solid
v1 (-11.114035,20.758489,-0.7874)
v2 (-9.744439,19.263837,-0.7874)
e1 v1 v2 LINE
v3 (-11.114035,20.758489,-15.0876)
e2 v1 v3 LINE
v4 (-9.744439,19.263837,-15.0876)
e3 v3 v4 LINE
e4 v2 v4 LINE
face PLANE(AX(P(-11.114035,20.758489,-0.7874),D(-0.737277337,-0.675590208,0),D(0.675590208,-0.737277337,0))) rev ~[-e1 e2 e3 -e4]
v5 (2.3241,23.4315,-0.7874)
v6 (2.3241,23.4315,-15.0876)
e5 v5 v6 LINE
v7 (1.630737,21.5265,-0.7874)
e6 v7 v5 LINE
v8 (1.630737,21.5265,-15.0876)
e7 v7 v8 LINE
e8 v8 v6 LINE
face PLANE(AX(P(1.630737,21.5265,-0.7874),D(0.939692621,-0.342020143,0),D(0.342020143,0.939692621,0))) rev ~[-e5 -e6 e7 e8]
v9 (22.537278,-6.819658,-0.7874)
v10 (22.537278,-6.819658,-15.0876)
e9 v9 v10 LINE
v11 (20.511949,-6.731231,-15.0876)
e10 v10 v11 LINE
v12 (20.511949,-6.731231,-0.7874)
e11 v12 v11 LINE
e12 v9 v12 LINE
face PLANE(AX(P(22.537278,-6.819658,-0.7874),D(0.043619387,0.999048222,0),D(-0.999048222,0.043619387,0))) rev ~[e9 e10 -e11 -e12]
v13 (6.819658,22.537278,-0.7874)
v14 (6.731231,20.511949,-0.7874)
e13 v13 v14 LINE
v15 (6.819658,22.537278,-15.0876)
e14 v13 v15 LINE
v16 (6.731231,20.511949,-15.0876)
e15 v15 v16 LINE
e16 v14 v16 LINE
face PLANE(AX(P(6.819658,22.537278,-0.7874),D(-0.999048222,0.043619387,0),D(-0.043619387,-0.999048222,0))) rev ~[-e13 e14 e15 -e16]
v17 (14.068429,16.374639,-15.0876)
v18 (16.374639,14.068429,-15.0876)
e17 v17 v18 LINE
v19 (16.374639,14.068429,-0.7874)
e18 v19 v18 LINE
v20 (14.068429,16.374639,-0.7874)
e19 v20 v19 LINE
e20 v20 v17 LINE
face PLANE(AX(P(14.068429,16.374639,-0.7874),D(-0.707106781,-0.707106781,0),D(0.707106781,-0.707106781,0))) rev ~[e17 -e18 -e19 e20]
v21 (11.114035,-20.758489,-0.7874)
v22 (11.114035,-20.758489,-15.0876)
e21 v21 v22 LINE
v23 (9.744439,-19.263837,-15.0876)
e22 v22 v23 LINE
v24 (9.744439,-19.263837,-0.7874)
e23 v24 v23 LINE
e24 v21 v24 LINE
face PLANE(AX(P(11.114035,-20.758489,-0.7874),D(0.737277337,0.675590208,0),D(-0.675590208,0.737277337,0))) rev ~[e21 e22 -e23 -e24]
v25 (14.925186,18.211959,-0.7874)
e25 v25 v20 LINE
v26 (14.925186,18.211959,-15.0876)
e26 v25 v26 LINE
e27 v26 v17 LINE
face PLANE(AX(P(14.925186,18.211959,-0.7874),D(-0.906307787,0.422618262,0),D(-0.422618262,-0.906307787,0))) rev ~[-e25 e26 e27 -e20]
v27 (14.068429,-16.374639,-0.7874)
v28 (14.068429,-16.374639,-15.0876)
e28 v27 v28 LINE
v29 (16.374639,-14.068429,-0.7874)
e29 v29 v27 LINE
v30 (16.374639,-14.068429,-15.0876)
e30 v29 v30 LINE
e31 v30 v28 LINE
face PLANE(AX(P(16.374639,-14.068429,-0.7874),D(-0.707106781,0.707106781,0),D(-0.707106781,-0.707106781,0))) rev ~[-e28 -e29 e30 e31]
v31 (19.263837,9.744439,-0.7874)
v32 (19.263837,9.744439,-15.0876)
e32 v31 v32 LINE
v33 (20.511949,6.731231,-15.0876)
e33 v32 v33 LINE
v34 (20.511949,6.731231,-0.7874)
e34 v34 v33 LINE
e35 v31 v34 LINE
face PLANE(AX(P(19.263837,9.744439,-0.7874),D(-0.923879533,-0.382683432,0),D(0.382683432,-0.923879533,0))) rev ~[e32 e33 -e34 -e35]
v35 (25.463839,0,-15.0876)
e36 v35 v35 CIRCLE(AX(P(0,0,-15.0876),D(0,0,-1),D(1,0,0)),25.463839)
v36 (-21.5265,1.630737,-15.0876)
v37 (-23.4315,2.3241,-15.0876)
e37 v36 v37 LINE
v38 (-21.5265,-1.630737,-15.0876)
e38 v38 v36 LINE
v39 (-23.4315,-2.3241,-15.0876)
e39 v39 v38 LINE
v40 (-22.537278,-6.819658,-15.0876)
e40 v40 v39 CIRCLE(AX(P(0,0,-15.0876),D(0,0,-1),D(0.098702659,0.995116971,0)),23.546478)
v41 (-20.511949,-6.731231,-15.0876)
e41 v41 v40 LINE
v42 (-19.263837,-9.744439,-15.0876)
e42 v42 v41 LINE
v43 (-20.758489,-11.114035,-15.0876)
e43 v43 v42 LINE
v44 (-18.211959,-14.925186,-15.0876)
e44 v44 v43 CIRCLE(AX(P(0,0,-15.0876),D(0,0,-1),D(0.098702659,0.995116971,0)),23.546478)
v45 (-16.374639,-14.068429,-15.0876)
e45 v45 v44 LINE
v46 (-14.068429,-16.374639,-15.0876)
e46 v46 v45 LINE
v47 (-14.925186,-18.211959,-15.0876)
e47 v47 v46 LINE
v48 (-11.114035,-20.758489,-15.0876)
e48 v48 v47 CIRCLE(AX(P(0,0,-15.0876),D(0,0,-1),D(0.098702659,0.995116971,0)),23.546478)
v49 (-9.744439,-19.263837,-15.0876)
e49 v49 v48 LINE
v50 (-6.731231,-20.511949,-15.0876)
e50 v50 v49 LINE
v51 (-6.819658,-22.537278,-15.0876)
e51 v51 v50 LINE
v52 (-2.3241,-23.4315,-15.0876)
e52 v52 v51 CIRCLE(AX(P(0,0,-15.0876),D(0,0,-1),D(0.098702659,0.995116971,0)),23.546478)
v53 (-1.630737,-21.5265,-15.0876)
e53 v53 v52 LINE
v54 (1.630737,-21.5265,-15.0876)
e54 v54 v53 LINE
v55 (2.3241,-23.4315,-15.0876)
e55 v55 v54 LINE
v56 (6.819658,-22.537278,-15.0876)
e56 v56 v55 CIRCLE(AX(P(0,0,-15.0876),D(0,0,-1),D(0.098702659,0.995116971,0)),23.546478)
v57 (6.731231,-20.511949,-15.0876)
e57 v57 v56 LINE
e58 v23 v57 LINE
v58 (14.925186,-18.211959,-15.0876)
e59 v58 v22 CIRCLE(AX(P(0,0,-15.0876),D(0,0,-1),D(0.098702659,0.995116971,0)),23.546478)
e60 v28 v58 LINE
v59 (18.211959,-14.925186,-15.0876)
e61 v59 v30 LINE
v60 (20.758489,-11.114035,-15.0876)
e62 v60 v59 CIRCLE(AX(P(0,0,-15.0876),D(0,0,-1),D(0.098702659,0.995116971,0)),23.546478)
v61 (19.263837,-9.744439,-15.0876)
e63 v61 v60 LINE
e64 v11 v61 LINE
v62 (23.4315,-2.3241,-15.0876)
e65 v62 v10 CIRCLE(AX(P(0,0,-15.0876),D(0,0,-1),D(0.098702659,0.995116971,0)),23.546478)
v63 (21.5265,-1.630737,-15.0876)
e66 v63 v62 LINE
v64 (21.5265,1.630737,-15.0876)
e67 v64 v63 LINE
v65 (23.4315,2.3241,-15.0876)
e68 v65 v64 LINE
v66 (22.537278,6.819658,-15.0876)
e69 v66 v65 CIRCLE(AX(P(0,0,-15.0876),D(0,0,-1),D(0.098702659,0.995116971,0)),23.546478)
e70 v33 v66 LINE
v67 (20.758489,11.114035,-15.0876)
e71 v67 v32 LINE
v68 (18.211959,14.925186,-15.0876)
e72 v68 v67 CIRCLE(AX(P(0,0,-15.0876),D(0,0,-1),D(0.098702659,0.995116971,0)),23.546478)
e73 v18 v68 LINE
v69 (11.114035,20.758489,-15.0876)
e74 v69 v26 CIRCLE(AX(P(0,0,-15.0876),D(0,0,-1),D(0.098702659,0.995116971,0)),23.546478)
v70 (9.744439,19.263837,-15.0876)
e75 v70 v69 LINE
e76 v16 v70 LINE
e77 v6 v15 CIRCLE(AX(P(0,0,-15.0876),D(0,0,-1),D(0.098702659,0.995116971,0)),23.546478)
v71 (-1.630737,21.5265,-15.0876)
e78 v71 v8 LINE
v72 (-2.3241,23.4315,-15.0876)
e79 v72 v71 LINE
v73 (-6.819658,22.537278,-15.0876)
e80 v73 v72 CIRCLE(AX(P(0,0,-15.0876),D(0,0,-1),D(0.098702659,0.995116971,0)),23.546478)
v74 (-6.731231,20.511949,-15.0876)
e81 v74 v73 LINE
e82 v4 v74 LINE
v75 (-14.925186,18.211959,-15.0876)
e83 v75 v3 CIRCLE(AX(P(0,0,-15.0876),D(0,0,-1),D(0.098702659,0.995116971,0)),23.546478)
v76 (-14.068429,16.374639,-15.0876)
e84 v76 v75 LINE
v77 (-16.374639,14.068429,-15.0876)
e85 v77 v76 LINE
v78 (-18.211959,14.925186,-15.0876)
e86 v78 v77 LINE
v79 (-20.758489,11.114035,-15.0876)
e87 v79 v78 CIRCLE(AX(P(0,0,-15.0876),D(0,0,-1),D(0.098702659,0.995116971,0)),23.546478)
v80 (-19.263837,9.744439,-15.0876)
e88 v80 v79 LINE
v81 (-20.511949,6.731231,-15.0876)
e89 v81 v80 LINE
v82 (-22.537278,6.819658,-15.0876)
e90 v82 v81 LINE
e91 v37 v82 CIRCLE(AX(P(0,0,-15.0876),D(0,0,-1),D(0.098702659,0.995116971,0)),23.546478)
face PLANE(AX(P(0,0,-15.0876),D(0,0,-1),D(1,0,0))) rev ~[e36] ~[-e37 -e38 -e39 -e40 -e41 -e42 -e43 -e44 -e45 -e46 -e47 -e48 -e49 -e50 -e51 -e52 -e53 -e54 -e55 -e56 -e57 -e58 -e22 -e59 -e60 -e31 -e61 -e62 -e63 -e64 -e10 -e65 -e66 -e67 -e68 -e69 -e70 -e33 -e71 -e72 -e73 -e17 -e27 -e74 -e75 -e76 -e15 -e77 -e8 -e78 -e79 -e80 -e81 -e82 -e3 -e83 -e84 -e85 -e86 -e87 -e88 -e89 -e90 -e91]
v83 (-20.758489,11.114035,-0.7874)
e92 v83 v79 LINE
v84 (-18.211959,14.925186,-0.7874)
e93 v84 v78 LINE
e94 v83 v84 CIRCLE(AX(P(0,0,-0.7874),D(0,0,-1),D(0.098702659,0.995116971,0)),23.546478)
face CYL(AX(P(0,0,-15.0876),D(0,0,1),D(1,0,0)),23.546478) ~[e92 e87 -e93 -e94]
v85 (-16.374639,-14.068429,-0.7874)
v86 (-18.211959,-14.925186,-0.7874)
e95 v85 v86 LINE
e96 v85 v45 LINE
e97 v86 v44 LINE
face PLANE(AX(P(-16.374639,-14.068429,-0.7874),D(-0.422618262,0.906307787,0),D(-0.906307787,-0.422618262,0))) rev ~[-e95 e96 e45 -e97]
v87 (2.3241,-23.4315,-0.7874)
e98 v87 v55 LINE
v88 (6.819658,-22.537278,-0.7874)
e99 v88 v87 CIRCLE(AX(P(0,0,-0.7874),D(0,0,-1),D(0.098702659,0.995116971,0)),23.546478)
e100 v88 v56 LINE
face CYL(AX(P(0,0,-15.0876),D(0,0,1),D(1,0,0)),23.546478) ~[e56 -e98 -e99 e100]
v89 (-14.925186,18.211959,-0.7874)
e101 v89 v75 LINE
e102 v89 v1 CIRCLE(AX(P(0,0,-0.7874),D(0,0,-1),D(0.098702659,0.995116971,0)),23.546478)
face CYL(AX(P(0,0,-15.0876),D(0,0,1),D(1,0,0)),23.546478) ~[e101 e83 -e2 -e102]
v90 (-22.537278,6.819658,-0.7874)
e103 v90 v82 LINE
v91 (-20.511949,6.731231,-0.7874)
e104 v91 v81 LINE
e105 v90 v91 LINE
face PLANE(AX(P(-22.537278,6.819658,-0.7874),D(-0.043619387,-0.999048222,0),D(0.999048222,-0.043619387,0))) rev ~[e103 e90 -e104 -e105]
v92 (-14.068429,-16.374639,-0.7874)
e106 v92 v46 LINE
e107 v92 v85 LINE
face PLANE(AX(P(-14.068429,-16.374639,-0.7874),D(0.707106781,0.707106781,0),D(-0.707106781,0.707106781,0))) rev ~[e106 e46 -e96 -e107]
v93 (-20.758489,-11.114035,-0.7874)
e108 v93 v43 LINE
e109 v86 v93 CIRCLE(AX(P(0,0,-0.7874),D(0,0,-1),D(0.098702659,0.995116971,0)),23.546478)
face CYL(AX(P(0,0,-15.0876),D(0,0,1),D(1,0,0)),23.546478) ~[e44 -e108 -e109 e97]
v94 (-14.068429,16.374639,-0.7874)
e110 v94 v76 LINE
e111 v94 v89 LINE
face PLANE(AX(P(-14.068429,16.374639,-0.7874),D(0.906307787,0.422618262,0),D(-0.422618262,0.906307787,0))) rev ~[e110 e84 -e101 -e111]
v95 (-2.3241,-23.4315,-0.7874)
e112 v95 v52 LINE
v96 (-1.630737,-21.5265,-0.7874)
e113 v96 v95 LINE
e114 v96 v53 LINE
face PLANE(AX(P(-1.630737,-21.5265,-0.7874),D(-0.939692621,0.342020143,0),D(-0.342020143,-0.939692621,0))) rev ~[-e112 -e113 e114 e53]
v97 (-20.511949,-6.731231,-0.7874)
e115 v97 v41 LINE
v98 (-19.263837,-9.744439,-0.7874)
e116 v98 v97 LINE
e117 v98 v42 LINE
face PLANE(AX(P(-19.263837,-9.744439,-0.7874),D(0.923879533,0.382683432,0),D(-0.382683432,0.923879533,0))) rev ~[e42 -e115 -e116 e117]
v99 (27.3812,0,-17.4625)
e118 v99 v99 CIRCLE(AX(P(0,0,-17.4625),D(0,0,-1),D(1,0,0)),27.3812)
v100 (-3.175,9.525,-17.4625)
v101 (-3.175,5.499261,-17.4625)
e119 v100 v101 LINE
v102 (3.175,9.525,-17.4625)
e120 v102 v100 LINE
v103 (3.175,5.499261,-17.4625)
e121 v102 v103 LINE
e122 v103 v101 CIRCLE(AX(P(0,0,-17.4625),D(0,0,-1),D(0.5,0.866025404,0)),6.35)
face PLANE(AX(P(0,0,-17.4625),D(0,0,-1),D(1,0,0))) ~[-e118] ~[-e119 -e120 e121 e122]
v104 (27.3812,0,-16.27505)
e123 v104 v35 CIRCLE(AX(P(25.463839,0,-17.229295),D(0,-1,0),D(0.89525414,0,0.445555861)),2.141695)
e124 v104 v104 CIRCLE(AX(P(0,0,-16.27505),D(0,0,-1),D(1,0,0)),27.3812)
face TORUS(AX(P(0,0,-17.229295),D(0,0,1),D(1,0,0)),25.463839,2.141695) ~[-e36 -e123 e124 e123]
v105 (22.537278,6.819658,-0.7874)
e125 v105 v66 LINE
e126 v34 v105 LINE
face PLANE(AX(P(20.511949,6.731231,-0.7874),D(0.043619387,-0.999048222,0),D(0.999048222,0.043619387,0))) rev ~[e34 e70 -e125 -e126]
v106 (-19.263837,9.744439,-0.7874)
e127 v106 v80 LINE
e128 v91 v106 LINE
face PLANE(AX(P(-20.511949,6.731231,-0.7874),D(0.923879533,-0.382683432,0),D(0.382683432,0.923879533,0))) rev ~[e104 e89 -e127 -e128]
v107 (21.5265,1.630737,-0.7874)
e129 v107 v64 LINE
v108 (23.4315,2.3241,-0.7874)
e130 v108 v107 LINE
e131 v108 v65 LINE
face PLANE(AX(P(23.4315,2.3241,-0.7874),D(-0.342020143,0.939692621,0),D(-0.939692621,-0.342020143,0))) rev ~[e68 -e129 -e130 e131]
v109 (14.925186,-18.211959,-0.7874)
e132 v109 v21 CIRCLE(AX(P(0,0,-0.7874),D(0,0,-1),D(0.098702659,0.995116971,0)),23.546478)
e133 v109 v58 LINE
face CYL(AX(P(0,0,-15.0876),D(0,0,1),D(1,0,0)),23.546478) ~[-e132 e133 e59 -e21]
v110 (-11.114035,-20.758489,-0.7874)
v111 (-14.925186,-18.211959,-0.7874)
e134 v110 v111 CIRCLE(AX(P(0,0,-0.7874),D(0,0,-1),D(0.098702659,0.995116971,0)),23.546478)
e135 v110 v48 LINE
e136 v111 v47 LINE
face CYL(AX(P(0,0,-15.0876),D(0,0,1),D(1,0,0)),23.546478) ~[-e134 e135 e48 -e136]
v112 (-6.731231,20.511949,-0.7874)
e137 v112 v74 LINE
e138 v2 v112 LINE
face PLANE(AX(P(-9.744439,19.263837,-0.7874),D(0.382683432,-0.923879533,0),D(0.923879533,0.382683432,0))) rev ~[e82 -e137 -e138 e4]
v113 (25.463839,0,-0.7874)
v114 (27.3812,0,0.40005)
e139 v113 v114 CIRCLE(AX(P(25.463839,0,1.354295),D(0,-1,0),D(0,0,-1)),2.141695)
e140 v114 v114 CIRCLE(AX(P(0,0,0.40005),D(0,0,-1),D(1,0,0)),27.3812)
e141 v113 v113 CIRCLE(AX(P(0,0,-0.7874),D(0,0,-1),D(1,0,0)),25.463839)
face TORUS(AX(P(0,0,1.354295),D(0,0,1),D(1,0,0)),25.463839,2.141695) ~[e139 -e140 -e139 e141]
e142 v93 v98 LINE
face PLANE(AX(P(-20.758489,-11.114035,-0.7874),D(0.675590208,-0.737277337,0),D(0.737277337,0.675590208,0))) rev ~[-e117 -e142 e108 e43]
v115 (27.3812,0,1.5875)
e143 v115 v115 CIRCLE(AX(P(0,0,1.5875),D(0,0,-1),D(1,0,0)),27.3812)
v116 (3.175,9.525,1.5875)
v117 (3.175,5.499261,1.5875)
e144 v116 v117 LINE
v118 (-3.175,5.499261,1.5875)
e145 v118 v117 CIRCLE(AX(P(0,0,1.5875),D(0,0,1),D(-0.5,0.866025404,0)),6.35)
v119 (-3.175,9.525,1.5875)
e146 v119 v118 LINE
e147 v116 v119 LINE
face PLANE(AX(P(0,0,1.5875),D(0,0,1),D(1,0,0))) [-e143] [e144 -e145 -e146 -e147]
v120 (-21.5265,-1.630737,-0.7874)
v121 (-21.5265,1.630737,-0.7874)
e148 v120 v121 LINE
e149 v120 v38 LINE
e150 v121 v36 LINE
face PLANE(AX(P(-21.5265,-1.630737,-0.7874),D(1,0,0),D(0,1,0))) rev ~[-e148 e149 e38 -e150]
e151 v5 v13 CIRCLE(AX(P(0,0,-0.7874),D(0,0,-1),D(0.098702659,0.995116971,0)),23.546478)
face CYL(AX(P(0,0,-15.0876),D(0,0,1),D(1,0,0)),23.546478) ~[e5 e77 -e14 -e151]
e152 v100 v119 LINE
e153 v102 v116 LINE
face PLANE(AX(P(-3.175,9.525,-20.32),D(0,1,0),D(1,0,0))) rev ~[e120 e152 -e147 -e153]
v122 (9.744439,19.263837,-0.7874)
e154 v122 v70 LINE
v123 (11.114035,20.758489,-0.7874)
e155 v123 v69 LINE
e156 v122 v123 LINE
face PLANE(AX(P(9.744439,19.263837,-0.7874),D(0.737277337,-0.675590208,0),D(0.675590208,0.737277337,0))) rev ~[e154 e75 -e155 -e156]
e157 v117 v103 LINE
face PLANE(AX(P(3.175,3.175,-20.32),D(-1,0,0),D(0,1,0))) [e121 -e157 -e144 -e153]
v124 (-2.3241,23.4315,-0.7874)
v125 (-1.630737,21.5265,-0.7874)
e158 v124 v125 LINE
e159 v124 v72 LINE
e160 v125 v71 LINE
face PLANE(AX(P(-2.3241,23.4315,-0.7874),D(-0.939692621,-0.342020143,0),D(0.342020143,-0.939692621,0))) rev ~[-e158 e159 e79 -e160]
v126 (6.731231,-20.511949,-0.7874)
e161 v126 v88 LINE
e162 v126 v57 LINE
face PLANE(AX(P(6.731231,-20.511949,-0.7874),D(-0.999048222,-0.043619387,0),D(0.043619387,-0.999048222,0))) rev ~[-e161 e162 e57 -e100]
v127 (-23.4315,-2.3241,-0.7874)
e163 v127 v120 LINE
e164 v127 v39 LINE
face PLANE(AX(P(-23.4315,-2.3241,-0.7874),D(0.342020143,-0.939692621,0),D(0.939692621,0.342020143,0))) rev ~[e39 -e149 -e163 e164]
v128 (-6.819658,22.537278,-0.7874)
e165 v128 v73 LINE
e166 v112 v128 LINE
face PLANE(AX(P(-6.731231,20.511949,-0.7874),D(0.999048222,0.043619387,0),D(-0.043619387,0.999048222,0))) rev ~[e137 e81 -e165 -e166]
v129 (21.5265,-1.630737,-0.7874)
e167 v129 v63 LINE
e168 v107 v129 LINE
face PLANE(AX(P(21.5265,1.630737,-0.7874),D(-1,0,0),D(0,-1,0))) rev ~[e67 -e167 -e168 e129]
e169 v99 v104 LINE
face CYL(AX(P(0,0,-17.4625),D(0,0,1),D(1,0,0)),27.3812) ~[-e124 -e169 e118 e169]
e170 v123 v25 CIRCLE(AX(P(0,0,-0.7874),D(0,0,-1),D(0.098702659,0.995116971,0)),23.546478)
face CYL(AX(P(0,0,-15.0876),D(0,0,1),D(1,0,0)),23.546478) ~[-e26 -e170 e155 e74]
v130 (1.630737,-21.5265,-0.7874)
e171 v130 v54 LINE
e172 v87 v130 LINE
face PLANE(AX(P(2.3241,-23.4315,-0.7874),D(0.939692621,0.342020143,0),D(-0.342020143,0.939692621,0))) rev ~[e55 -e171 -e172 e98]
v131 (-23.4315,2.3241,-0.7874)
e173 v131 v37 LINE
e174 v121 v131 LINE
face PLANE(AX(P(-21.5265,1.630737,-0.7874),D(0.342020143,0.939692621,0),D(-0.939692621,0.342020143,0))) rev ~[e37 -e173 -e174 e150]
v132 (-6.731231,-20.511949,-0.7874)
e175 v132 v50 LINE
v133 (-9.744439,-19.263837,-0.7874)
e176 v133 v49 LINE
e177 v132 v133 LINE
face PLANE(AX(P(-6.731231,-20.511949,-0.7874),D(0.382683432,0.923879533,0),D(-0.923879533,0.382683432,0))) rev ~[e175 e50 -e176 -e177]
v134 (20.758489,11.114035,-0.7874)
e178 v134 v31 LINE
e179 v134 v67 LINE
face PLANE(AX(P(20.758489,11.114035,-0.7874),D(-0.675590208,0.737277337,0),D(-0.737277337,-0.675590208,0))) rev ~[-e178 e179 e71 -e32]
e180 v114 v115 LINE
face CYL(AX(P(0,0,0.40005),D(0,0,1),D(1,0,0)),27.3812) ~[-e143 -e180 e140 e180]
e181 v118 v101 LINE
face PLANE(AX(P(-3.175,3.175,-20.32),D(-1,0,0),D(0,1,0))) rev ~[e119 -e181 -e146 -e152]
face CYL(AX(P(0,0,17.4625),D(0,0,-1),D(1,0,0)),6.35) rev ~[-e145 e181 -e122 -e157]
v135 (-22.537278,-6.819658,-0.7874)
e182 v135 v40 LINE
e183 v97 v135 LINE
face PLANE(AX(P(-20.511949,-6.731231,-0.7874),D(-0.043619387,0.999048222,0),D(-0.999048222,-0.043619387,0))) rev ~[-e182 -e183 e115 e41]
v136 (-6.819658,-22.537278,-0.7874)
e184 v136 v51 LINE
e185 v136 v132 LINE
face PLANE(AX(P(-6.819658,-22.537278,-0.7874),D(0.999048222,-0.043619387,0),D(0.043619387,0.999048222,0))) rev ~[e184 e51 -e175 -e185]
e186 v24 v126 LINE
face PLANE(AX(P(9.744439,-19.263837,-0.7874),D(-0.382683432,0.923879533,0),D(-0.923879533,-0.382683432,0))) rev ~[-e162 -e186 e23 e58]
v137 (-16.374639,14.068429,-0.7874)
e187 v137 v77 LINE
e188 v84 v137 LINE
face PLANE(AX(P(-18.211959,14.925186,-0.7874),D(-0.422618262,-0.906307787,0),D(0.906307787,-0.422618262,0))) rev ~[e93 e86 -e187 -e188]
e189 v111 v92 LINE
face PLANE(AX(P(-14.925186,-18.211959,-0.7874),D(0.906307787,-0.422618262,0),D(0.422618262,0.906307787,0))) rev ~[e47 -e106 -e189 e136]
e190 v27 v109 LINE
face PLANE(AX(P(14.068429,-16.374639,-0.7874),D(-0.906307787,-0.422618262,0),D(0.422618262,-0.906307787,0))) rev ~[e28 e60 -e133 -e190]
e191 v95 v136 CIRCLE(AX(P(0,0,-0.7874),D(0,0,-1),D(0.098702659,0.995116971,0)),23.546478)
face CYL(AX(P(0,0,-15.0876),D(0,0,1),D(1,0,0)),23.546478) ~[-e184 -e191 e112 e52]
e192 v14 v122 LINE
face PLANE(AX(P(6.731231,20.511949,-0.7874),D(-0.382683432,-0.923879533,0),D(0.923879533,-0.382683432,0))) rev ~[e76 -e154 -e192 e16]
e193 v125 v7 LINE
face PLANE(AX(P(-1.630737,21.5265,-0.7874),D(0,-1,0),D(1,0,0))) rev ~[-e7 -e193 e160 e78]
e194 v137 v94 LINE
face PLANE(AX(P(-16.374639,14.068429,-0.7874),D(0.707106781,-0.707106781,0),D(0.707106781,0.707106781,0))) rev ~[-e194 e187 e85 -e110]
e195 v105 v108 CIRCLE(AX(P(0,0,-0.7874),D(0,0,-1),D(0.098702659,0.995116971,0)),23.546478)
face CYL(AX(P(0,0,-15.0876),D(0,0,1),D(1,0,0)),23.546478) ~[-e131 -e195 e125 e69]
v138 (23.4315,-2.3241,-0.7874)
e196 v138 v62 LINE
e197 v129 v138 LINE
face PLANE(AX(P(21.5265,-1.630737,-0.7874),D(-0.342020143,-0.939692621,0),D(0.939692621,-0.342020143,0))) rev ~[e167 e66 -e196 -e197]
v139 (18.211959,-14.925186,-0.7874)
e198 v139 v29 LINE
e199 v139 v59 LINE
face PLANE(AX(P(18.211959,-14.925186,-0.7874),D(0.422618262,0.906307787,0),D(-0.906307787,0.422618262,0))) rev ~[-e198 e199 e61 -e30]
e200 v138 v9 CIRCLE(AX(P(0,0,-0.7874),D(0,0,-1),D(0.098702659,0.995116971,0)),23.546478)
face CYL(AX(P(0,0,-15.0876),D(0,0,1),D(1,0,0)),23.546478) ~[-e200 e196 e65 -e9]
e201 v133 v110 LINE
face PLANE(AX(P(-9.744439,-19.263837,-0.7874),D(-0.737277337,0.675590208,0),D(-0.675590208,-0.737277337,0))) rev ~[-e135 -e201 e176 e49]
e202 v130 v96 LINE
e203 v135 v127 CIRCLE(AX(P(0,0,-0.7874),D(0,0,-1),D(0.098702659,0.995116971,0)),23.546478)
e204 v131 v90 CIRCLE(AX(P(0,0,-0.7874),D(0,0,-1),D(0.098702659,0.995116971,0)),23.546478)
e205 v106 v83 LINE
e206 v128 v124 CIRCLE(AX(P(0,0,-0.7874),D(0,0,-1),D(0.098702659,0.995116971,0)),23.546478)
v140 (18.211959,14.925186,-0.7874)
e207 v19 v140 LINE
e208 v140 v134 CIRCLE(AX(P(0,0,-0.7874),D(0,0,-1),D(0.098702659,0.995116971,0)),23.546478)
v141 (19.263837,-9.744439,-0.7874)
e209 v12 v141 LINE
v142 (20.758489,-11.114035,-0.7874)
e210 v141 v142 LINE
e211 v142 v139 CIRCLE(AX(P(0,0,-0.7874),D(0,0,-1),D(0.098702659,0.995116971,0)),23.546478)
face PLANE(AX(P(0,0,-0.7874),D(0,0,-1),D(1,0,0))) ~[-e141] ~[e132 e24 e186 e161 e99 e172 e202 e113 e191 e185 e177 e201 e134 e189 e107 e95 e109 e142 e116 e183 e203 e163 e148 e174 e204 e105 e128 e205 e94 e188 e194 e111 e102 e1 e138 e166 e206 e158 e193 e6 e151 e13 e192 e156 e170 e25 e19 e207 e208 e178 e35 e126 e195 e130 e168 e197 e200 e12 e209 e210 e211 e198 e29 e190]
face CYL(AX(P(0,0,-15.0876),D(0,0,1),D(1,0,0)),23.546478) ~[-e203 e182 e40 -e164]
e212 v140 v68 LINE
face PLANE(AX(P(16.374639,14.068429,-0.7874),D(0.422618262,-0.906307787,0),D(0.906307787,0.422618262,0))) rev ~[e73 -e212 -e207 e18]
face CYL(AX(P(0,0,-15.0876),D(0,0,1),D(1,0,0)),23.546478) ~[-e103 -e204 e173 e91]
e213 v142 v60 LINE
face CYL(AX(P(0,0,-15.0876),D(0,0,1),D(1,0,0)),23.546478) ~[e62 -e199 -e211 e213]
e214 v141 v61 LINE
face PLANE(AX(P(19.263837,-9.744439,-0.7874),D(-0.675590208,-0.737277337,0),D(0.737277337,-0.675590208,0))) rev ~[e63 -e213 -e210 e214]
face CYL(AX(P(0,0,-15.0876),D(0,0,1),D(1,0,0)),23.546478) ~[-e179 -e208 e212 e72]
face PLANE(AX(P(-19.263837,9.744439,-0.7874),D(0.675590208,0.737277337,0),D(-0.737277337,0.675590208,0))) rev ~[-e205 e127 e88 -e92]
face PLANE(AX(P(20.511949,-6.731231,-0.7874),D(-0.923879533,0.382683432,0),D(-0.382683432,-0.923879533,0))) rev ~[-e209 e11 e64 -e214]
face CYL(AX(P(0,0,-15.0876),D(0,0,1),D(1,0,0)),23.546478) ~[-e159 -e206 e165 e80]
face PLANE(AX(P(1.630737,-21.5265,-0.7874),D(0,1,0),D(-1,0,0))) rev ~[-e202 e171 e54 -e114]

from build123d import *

# Parameters (mm, degrees)
CUT_EXTRUDE1_START      = -0.7874
CUT_EXTRUDE1_DEPTH      = 14.3002
CIRPATTERN1_COUNT       = 16
SKETCH4_R               = 3.175
CUT_EXTRUDE2_DEPTH      = 43.478219515
CUT_EXTRUDE3_START      = 1.5875
SKETCH5_R               = 30.004447146
CUT_EXTRUDE3_DEPTH      = 20.32
CUT_EXTRUDE4_DEPTH      = 20.32
CUT_EXTRUDE4_DEPTH_BACK = 20.32
SKETCH6_W               = 6.35
SKETCH6_H               = 6.35


with BuildPart() as part:
    # Sketch2 → Revolve1 (revolve)
    with BuildSketch(Plane(origin=(0, 0, 0), x_dir=(0, 0, -1), z_dir=(1, 0, 0)), mode=Mode.PRIVATE) as revolve1_sk:
        with BuildLine():
            Line((-17.4625, 6.35), (17.4625, 6.35))
            Line((17.4625, 6.35), (17.4625, 27.3812))
            Line((17.4625, 27.3812), (16.27505, 27.3812))
            ThreePointArc((16.27505, 27.3812), (15.408504076, 26.591481572), (15.0876, 25.463839073))
            Line((15.0876, 25.463839073), (15.0876, 23.546478146))
            Line((15.0876, 23.546478146), (0.7874, 23.546478146))
            Line((0.7874, 23.546478146), (0.7874, 25.463839073))
            ThreePointArc((0.7874, 25.463839073), (0.466495924, 26.591481572), (-0.40005, 27.3812))
            Line((-0.40005, 27.3812), (-1.5875, 27.3812))
            Line((-1.5875, 27.3812), (-1.5875, 18.2626))
            Line((-1.5875, 18.2626), (-17.4625, 18.2626))
            Line((-17.4625, 18.2626), (-17.4625, 6.35))
        make_face()
    revolve(revolve1_sk.sketch.rotate(Axis((0, 0, 17.4625), (0, 0, -1)), 90), axis=Axis((0, 0, 17.4625), (0, 0, -1)))

    # Sketch3 → Cut-Extrude1 (cut)
    with BuildSketch(Plane.XY.offset(CUT_EXTRUDE1_START)):
        with BuildLine():
            Line((-1.630736704, 21.5265), (1.630736704, 21.5265))
            Line((1.630736704, 21.5265), (2.3241, 23.4315))
            ThreePointArc((2.3241, 23.4315), (0, 23.546478146), (-2.3241, 23.4315))
            Line((-2.3241, 23.4315), (-1.630736704, 21.5265))
        make_face()
    cut_extrude1 = extrude(amount=-CUT_EXTRUDE1_DEPTH, mode=Mode.SUBTRACT)

    # CirPattern1: Cut-Extrude1 ×16 about axis
    cirpattern1_axis = Axis((0, 0, 0), (0, 0, 1))
    for i in range(1, CIRPATTERN1_COUNT):
        add(cut_extrude1.rotate(cirpattern1_axis, i * 360 / CIRPATTERN1_COUNT), mode=Mode.SUBTRACT)

    # Sketch4 → Cut-Extrude2 (cut, through all)
    with BuildSketch(Plane(origin=(0, 0, 0), x_dir=(0, -1, 0), z_dir=(1, 0, 0))):
        with Locations(Location((0, -9.525, 0), (0, 0, 270))):
            Circle(SKETCH4_R)
    extrude(amount=CUT_EXTRUDE2_DEPTH, mode=Mode.SUBTRACT)

    # Sketch5 → Cut-Extrude3 (cut)
    with BuildSketch(Plane.XY.offset(CUT_EXTRUDE3_START)):
        Circle(SKETCH5_R)
    extrude(amount=CUT_EXTRUDE3_DEPTH, mode=Mode.SUBTRACT)

    # Sketch6 → Cut-Extrude4 (cut, two sides: drawn at the far end of the back side and taken through both)
    with BuildSketch(Plane.XY.offset(-CUT_EXTRUDE4_DEPTH_BACK)):
        with Locations((0, 6.35)):
            Rectangle(SKETCH6_W, SKETCH6_H)
    extrude(amount=CUT_EXTRUDE4_DEPTH + CUT_EXTRUDE4_DEPTH_BACK, mode=Mode.SUBTRACT)


solid = part.part
